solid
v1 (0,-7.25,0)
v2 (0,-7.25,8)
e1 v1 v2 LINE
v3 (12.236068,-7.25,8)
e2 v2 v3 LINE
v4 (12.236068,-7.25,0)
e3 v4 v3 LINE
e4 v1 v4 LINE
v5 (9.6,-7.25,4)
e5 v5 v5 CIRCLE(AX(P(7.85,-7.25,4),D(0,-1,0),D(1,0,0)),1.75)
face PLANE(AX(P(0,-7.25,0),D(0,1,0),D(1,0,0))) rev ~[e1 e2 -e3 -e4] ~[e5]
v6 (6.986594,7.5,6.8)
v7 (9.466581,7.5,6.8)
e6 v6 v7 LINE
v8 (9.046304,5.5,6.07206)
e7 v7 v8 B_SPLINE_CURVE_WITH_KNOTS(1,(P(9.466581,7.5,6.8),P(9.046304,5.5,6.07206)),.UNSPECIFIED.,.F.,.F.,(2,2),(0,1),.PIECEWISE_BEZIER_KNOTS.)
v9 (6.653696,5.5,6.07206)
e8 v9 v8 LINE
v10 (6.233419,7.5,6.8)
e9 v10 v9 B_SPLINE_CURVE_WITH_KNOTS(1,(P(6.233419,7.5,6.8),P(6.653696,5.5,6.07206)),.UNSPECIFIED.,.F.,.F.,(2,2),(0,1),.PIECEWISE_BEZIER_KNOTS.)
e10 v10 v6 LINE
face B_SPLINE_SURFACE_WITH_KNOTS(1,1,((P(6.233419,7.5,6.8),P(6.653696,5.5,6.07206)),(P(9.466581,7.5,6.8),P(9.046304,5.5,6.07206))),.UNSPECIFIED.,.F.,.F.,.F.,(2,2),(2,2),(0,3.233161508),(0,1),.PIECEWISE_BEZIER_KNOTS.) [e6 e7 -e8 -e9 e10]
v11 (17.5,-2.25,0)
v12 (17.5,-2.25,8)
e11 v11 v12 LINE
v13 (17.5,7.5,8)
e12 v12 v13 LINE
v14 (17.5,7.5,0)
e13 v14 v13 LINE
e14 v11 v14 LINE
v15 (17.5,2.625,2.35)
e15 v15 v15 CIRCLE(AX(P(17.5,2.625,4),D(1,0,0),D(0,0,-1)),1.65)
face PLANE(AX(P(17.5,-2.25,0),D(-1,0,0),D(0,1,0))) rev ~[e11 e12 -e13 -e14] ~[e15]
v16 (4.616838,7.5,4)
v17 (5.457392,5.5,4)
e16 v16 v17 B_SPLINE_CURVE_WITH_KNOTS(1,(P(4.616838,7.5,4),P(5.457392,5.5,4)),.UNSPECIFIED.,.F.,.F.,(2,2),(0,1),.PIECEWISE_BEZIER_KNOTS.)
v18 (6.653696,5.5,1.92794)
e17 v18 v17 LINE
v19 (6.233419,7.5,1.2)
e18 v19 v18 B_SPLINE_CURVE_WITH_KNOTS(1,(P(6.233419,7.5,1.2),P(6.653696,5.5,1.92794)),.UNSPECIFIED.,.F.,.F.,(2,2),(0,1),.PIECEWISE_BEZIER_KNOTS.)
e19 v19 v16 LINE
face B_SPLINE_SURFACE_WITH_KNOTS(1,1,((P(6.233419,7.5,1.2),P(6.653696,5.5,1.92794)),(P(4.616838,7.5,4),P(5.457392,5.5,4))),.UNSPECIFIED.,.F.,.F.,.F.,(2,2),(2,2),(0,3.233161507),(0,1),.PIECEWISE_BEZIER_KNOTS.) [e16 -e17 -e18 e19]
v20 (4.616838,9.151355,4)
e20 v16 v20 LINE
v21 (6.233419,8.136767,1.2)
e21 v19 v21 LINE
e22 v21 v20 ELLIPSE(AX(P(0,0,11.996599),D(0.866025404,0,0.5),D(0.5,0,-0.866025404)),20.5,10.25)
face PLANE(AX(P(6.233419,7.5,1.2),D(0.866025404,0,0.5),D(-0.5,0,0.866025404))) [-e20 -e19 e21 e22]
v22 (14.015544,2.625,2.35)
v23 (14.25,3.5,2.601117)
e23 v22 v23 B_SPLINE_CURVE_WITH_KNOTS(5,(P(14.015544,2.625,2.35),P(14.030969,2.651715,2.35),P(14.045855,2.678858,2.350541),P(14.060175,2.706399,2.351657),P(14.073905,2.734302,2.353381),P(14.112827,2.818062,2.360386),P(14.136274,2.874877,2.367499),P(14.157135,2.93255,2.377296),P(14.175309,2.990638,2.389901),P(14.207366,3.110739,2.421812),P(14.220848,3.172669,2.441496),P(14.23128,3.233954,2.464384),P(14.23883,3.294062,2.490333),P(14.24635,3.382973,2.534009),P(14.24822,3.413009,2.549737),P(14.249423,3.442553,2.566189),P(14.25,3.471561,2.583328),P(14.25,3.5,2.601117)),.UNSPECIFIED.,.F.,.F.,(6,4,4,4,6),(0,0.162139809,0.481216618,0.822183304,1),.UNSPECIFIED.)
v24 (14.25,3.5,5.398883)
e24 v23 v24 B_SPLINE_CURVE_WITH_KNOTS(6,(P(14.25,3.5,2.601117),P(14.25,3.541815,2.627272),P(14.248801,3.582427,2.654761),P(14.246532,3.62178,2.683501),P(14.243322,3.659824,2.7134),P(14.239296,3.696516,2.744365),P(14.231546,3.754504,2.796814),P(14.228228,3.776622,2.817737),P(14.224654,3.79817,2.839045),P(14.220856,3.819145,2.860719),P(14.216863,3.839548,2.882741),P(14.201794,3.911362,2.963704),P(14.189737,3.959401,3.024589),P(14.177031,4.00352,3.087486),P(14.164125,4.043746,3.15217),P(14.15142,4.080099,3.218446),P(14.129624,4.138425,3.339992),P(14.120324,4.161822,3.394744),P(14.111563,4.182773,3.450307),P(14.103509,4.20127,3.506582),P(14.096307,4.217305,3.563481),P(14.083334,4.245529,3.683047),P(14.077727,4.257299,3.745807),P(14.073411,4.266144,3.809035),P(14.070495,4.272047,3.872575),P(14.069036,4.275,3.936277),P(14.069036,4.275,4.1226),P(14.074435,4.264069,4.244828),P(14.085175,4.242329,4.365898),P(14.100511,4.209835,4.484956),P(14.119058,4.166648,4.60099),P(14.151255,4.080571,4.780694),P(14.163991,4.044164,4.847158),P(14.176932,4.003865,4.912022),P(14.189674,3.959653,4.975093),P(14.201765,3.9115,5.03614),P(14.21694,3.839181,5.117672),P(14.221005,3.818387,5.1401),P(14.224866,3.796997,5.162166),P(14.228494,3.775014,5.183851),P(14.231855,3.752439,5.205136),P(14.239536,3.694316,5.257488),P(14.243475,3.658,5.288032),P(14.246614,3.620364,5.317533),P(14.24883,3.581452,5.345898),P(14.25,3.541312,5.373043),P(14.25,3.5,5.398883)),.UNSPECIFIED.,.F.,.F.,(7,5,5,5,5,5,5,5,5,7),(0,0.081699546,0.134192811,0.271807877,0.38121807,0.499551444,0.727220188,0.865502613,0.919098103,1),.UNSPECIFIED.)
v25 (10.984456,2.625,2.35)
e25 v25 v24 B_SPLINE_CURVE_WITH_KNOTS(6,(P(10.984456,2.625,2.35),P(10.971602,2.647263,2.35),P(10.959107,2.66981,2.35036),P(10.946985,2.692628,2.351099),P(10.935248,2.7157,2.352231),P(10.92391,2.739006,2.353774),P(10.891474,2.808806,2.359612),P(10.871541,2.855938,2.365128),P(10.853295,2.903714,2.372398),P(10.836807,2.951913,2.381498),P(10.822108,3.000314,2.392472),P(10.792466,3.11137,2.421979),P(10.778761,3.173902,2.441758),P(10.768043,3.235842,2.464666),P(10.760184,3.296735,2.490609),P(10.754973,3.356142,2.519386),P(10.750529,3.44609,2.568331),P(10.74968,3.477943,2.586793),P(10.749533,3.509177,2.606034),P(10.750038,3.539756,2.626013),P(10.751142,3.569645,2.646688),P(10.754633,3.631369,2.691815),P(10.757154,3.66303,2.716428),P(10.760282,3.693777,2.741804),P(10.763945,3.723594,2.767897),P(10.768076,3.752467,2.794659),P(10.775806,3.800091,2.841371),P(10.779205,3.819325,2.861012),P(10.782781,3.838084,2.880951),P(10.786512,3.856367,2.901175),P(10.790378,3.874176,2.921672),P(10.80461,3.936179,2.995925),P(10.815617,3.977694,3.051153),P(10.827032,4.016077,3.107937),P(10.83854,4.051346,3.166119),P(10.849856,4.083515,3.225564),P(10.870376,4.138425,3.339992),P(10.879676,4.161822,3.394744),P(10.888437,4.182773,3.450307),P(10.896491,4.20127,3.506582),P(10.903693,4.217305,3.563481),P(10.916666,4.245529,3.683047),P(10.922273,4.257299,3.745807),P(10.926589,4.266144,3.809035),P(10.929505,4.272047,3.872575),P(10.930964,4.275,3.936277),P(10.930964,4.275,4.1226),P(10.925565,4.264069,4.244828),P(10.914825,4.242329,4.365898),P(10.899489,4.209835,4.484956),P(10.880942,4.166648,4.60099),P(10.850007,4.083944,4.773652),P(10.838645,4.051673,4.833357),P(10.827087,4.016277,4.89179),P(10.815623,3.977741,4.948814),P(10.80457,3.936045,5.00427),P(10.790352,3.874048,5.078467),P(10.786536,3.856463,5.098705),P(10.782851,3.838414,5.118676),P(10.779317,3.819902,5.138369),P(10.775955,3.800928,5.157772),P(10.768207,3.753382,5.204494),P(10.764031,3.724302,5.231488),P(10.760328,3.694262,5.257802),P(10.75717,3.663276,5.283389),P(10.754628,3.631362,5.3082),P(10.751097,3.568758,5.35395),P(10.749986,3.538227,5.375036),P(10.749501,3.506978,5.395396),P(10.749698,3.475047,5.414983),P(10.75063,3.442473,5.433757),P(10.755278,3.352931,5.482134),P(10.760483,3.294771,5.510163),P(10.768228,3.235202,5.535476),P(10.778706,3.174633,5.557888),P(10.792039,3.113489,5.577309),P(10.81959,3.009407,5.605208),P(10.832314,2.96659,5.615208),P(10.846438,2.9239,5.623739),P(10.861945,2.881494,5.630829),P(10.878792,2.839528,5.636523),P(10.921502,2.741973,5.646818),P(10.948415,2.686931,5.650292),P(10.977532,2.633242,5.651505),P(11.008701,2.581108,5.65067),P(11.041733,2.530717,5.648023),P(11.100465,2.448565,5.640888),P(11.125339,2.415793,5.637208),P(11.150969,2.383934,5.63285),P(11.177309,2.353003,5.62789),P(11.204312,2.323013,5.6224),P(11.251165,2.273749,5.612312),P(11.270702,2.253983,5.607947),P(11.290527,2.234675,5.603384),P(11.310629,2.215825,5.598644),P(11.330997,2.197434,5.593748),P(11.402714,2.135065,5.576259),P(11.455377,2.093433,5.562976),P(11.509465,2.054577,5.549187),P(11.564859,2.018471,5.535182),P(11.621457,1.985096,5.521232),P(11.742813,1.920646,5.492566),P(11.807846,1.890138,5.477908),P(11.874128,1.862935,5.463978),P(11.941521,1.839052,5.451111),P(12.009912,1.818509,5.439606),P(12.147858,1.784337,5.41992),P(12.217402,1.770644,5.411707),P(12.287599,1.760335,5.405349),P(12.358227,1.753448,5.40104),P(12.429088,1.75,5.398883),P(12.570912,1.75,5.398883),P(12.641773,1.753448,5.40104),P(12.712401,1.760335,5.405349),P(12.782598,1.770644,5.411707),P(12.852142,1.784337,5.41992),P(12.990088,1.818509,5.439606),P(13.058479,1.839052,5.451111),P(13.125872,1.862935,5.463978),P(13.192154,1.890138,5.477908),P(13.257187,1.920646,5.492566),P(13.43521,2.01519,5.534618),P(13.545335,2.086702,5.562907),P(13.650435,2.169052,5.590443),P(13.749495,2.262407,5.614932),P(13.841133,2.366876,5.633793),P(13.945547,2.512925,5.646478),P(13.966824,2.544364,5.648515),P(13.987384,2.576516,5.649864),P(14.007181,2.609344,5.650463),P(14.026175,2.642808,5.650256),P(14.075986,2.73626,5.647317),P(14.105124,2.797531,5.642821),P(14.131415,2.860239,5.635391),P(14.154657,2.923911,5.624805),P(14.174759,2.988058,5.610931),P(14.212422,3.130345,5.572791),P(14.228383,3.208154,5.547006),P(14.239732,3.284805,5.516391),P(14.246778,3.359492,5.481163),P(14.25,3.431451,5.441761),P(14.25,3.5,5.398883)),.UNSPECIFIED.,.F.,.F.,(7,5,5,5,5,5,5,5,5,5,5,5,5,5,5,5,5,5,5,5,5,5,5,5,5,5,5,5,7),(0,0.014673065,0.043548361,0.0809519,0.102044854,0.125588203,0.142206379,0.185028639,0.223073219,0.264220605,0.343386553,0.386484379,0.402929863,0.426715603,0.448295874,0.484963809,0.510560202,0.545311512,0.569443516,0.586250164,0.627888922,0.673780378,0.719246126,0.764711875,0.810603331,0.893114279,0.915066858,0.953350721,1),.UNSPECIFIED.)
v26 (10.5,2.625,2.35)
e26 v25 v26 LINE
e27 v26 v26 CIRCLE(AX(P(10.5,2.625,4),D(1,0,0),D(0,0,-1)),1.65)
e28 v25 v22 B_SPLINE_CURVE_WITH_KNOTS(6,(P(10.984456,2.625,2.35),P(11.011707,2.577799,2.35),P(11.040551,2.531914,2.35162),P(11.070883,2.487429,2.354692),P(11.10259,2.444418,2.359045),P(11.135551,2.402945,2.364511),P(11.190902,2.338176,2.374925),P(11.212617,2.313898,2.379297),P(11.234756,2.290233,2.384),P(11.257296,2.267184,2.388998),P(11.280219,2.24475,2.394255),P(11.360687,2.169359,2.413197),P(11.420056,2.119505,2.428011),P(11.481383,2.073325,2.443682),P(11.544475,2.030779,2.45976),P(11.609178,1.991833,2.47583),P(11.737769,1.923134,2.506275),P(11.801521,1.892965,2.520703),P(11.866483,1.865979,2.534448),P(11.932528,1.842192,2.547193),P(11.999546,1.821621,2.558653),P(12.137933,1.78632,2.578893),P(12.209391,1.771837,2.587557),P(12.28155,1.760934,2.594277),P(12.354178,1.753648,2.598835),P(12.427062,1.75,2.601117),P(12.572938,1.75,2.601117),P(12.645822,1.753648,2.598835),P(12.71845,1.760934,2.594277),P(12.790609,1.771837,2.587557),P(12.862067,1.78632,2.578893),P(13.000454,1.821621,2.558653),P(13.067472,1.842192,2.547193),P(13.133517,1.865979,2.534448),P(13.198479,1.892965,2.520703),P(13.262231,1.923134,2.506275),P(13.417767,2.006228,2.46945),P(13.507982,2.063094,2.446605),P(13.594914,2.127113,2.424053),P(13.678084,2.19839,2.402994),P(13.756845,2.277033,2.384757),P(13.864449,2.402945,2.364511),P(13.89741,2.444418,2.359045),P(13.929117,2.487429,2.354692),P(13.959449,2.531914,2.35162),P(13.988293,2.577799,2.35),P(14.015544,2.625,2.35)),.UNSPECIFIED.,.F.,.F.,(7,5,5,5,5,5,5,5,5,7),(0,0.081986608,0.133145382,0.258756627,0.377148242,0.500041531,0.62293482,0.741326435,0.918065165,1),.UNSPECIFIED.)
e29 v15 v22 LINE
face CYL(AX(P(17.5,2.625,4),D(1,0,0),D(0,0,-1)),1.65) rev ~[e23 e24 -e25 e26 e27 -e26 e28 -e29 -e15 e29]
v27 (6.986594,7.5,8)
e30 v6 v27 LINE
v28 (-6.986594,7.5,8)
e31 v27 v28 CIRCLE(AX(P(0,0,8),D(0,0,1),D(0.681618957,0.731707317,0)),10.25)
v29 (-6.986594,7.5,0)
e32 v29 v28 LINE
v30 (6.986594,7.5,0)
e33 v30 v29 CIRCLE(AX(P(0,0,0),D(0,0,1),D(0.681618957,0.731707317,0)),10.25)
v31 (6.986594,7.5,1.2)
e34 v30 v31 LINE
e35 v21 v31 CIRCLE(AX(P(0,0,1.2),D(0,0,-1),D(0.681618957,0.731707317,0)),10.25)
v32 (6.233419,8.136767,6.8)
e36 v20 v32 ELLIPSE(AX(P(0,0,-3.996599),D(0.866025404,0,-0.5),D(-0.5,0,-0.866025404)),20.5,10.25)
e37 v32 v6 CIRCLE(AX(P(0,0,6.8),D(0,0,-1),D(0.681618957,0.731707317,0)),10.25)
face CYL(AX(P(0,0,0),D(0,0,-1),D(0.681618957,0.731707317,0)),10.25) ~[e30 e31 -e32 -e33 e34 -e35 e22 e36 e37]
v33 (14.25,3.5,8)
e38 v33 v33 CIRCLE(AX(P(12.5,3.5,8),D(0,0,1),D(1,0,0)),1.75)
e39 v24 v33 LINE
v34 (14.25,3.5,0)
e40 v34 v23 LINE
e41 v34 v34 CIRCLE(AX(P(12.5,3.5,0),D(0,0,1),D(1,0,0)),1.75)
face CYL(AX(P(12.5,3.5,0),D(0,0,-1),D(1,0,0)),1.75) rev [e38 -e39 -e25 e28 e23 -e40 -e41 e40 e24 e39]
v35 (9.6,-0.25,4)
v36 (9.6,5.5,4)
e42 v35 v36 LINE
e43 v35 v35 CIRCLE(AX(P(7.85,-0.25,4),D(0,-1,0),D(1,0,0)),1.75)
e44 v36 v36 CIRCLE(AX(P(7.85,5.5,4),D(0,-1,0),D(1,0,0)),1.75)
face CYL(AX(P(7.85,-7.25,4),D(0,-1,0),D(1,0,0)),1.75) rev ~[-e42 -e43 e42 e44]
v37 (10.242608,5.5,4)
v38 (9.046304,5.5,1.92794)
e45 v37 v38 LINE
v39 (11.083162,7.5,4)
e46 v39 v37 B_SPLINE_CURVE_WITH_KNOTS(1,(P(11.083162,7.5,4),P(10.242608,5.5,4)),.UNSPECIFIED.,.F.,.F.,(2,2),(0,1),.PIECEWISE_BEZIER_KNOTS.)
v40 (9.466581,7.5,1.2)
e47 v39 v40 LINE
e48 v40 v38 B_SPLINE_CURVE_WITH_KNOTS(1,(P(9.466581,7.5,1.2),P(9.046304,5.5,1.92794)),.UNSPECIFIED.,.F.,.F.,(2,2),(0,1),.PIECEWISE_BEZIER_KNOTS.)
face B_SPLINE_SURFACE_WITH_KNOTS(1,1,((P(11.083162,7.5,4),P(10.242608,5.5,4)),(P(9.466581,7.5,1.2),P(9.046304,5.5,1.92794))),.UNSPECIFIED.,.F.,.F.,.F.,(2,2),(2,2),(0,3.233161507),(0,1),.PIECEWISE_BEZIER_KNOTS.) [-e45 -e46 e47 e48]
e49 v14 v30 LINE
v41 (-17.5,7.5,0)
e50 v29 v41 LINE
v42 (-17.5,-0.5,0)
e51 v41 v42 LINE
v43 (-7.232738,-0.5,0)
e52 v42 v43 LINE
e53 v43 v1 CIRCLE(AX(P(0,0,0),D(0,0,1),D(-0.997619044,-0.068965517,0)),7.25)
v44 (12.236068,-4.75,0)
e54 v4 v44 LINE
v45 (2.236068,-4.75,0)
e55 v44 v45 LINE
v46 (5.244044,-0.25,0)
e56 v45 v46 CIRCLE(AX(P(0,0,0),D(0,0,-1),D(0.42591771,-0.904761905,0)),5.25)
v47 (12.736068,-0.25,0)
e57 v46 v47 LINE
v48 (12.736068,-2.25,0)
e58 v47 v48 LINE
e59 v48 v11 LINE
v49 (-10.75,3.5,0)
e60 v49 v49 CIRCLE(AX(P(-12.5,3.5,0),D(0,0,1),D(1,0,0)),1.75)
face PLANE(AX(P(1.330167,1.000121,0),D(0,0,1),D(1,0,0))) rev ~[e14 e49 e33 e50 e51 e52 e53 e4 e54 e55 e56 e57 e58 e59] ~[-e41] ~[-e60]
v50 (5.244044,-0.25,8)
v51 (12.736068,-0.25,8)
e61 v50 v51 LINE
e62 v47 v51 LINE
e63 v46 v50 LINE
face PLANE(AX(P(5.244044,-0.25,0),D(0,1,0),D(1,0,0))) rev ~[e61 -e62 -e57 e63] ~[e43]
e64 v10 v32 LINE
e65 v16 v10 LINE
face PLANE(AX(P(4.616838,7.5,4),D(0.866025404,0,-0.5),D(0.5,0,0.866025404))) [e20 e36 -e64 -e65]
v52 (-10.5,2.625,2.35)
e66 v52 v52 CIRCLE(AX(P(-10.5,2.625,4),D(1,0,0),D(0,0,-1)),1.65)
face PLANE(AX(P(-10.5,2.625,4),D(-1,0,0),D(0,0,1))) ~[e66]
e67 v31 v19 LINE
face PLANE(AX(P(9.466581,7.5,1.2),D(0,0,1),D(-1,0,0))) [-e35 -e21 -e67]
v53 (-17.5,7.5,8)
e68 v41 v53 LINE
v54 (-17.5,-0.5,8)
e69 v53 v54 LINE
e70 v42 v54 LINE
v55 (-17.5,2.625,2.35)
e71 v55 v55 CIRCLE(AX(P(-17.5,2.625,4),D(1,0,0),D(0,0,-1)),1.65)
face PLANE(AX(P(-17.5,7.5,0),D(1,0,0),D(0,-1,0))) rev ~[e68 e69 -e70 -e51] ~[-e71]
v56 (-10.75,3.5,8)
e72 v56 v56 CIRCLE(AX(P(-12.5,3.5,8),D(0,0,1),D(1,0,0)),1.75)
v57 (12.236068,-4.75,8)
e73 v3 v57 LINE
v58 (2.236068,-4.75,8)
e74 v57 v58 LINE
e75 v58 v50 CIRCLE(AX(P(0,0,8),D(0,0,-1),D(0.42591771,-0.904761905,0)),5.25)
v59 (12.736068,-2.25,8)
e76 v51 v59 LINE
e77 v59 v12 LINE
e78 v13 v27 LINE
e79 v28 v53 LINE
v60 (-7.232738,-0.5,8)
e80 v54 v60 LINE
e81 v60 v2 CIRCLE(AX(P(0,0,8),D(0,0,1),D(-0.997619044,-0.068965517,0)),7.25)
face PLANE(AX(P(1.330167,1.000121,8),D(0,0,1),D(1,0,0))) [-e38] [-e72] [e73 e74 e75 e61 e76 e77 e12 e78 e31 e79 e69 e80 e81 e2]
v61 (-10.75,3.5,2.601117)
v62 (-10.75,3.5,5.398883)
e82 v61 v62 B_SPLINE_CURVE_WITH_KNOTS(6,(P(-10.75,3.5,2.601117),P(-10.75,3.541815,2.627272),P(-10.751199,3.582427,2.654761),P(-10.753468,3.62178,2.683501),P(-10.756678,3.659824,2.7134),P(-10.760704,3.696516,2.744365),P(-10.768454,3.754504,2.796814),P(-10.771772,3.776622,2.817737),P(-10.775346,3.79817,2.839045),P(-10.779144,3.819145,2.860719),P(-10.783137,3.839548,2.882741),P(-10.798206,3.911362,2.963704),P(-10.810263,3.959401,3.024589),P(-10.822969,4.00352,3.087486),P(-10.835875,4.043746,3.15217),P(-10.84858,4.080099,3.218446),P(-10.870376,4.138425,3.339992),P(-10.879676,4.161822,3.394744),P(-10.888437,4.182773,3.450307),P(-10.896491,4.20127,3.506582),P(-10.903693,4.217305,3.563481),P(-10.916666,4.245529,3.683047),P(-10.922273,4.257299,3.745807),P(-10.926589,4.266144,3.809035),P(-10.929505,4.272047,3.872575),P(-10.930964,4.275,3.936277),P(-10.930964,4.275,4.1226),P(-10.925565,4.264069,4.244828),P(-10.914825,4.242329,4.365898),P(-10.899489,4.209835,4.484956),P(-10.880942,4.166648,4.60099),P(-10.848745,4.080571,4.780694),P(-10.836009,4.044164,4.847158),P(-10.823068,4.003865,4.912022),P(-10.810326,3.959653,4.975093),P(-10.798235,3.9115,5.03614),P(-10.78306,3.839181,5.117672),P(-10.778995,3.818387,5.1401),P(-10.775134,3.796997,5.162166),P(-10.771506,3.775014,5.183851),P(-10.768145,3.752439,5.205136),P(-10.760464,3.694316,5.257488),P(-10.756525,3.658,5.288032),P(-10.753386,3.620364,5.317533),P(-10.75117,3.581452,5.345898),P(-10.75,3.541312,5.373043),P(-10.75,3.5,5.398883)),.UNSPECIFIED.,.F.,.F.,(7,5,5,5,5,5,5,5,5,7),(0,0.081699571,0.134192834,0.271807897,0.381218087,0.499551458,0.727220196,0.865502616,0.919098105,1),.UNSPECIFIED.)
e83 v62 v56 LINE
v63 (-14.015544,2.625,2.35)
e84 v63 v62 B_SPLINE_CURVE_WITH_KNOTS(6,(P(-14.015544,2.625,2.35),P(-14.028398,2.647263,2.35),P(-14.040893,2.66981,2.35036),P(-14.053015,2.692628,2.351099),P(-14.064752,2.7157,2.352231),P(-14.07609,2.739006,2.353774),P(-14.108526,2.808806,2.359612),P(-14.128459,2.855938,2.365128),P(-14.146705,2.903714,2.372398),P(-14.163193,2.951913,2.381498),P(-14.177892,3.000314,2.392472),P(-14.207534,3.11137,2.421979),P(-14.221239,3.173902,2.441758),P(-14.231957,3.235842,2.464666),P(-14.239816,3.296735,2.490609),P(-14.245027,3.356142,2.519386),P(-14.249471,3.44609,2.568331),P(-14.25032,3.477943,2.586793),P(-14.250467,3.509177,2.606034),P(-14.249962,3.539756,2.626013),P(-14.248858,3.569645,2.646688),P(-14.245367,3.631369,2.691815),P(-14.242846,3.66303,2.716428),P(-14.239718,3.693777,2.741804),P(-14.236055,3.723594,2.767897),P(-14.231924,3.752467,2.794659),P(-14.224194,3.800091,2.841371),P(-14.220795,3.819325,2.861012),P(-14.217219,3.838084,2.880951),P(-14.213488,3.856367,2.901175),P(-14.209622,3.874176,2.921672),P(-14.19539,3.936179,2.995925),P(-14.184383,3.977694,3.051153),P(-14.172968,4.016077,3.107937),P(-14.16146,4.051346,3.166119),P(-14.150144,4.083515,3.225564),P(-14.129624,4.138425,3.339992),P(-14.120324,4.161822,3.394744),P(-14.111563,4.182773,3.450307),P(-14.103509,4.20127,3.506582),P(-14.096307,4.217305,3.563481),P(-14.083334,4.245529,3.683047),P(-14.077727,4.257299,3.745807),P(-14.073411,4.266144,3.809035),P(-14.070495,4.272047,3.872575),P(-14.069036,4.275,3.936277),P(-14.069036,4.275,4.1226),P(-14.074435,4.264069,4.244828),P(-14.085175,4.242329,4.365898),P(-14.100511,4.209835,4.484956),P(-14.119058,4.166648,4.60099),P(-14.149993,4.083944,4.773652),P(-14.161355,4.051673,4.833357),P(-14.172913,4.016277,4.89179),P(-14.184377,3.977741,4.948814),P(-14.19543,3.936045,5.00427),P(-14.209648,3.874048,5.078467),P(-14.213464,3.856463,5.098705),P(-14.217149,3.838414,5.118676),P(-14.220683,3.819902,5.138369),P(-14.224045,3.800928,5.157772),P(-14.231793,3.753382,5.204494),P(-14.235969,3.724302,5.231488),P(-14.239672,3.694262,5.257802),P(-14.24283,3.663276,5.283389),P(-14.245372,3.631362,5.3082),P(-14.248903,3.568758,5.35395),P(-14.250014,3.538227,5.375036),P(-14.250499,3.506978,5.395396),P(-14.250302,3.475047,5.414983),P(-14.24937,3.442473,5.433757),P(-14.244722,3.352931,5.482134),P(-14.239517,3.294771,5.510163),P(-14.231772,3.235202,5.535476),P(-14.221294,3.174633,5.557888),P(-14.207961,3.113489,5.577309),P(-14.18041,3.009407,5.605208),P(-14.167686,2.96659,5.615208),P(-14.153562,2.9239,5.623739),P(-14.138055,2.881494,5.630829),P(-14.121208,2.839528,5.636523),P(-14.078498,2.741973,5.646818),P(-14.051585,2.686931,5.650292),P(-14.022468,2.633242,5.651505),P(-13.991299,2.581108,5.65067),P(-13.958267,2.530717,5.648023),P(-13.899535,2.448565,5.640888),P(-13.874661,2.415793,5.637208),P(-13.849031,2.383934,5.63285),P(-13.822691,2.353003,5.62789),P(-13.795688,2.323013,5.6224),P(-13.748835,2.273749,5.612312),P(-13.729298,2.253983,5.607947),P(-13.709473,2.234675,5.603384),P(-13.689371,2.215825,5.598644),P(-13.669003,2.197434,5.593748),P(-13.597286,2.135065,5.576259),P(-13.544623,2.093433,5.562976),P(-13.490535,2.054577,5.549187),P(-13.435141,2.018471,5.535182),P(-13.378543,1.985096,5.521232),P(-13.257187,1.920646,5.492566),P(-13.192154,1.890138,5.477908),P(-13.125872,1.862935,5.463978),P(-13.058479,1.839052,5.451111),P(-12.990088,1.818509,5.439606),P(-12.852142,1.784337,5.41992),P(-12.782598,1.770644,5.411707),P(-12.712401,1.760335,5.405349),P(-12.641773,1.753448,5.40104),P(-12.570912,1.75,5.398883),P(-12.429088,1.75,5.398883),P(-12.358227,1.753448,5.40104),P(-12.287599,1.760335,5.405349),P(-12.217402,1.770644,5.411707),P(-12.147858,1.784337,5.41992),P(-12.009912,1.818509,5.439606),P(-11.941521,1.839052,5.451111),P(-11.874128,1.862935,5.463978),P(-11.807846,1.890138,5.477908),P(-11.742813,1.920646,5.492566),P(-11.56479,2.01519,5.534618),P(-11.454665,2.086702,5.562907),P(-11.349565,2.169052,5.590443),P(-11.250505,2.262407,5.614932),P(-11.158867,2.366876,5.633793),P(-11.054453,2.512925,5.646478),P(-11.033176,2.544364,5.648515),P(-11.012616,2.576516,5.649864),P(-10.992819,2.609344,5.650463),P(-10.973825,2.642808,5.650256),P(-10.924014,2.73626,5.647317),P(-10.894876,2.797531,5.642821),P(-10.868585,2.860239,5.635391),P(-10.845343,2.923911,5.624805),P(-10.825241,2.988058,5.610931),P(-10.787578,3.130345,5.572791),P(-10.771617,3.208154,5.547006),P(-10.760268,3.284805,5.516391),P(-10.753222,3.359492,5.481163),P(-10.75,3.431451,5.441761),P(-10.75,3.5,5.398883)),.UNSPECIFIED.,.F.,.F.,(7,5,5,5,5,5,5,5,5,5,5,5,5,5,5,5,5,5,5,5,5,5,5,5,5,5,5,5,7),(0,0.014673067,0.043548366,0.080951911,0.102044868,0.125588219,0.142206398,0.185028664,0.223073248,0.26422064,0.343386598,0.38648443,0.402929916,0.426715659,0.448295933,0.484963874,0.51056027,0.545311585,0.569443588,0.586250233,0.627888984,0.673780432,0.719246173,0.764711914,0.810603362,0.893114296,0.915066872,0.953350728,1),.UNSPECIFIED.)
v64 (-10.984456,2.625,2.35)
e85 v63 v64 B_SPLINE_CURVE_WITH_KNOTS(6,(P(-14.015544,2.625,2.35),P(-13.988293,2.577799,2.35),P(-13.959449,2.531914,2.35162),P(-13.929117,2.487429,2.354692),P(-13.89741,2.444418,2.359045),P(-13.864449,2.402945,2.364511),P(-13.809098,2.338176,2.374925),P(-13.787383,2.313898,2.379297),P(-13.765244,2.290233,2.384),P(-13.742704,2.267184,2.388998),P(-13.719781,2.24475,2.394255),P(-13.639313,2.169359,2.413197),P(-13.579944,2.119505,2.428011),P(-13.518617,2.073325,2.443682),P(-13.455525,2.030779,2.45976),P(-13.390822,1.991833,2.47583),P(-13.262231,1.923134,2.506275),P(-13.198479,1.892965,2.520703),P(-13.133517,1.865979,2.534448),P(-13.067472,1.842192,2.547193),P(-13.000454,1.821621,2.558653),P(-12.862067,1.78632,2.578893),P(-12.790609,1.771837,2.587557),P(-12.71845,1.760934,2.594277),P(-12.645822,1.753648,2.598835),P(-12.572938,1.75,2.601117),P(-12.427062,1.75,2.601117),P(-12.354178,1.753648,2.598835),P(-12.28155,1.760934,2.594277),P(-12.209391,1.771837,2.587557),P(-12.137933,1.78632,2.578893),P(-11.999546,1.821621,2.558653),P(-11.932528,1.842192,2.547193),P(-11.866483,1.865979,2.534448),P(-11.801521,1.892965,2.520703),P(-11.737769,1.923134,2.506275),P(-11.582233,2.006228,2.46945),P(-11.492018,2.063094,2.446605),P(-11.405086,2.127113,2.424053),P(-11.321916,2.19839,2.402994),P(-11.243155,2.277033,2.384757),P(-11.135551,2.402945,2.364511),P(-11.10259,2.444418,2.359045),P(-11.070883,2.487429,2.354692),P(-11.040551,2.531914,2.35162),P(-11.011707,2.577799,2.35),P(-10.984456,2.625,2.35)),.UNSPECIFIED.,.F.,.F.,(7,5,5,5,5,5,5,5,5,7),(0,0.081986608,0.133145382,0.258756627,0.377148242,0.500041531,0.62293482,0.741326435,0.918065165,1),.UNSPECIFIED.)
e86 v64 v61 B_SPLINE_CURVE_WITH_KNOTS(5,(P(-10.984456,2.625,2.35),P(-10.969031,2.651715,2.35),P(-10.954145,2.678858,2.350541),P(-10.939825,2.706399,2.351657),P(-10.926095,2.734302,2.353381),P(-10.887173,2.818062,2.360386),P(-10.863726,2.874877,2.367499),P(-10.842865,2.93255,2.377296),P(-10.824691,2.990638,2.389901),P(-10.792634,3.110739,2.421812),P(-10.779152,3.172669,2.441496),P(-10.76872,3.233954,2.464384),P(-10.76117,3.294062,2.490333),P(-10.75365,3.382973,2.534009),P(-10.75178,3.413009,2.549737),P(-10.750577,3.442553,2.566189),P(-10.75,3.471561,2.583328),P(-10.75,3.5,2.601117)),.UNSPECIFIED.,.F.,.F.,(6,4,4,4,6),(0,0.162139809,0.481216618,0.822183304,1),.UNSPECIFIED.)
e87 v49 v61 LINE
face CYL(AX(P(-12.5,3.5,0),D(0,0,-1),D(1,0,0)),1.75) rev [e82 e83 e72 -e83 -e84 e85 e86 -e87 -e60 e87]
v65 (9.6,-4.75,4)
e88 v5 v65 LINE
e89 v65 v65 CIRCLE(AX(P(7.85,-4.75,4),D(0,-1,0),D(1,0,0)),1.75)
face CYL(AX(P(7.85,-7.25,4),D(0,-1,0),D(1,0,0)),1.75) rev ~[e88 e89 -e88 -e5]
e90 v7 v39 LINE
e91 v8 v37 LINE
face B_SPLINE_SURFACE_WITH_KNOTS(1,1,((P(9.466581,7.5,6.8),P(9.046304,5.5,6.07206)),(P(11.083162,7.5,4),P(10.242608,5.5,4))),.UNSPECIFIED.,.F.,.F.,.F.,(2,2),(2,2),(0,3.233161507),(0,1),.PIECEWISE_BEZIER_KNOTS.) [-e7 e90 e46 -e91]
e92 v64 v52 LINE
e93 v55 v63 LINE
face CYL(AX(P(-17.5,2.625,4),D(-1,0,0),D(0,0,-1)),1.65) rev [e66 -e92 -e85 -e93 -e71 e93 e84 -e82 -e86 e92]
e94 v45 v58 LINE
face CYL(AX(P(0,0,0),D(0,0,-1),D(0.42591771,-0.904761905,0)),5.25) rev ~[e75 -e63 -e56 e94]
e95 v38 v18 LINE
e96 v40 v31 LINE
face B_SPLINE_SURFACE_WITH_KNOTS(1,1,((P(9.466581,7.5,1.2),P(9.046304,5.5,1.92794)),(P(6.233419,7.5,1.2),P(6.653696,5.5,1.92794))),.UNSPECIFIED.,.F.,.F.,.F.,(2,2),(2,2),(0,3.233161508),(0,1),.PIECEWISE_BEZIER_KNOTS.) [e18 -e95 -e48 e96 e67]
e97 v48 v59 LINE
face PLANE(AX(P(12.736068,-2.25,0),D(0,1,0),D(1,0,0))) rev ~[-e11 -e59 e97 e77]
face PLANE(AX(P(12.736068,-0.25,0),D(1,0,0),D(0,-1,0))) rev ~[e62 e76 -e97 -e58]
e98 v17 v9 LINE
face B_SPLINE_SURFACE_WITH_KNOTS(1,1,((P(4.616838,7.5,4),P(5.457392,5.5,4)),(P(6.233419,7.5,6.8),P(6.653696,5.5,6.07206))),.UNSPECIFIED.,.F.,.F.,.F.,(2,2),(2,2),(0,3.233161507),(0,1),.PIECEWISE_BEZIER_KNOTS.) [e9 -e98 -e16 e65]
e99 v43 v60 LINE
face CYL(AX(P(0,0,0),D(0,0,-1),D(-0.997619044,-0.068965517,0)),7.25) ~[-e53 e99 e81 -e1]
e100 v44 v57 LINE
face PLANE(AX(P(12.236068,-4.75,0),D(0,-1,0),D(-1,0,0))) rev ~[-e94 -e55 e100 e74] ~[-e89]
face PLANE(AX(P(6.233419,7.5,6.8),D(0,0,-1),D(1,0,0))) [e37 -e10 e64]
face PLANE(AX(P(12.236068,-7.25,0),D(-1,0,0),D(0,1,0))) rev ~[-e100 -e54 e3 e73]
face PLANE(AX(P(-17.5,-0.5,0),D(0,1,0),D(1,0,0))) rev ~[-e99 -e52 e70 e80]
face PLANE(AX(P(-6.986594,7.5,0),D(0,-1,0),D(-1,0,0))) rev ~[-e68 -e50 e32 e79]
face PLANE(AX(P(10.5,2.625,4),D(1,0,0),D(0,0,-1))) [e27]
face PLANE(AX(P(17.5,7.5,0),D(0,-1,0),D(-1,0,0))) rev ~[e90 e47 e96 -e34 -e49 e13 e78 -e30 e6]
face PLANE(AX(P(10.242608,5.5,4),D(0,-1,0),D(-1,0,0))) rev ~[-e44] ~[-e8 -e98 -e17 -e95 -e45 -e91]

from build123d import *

# Parameters (mm, degrees)
ESBO_O1_R                       = 1.75
RESSALTO_EXTRUS_O1_DEPTH        = 8
ESBO_O2_R                       = 1.65
CORTE_EXTRUS_O1_DEPTH           = 7
ESBO_O3_R                       = 1.75
CORTE_EXTRUS_O2_DEPTH           = 18.5
CORTE_EXTRUS_O3_DEPTH           = 2
CORTE_EXTRUS_O3_TAPER           = 20
CORTE_EXTRUS_O3_OTHER_WAY_DEPTH = 6


with BuildPart() as part:
    # Esboço1 → Ressalto-extrusão1 (new body)
    with BuildSketch(Plane.XY):
        with BuildLine():
            Line((17.5, 7.5), (6.986594306, 7.5))
            ThreePointArc((6.986594306, 7.5), (0, 10.25), (-6.986594306, 7.5))
            Line((-6.986594306, 7.5), (-17.5, 7.5))
            Line((-17.5, 7.5), (-17.5, -0.5))
            Line((-17.5, -0.5), (-7.232738071, -0.5))
            ThreePointArc((-7.232738071, -0.5), (-4.946589734, -5.300353762), (0, -7.25))
            Line((0, -7.25), (12.236067977, -7.25))
            Line((12.236067977, -7.25), (12.236067977, -4.75))
            Line((12.236067977, -4.75), (2.236067977, -4.75))
            ThreePointArc((2.236067977, -4.75), (-4.364690104, 2.917529829), (5.244044241, -0.25))
            Line((5.244044241, -0.25), (12.736067977, -0.25))
            Line((12.736067977, -0.25), (12.736067977, -2.25))
            Line((12.736067977, -2.25), (15.807189139, -2.25))
            Line((15.807189139, -2.25), (17.5, -2.25))
            Line((17.5, -2.25), (17.5, 7.5))
        make_face()
        with Locations((12.5, 3.5)):
            Circle(ESBO_O1_R, mode=Mode.SUBTRACT)
        with Locations((-12.5, 3.5)):
            Circle(ESBO_O1_R, mode=Mode.SUBTRACT)
    extrude(amount=RESSALTO_EXTRUS_O1_DEPTH)

    # Esboço2 → Corte-extrusão1 (cut)
    with BuildSketch(Plane(origin=(17.5, 0, 0), x_dir=(0, 0, -1), z_dir=(1, 0, 0))):
        with Locations((-4, 2.625)):
            Circle(ESBO_O2_R)
    corte_extrus_o1 = extrude(amount=-CORTE_EXTRUS_O1_DEPTH, mode=Mode.SUBTRACT)

    # Espelhar1: Corte-extrusão1 across plane
    add(corte_extrus_o1.mirror(Plane(origin=(0, 0, 0), x_dir=(0, 0, 1), z_dir=(1, 0, 0))), mode=Mode.SUBTRACT)

    # Esboço3 → Corte-extrusão2 (cut, through all)
    with BuildSketch(Plane.XZ.offset(7.25)):
        with Locations((7.85, 4)):
            Circle(ESBO_O3_R)
    extrude(amount=-CORTE_EXTRUS_O2_DEPTH, mode=Mode.SUBTRACT)

    # Esboço4 → Corte-extrusão3 (cut)
    with BuildSketch(Plane(origin=(0, 7.5, 0), x_dir=(1, 0, 0), z_dir=(0, 1, 0))):
        Polygon((11.083161507, -4), (9.466580754, -1.2), (6.233419246, -1.2), (4.616838493, -4), (6.233419246, -6.8), (9.466580754, -6.8), align=None)
    extrude(amount=-CORTE_EXTRUS_O3_DEPTH, taper=CORTE_EXTRUS_O3_TAPER, mode=Mode.SUBTRACT)

    # Esboço4 → Corte-extrusão3 other way (cut)
    with BuildSketch(Plane(origin=(0, 7.5, 0), x_dir=(1, 0, 0), z_dir=(0, 1, 0))):
        Polygon((11.083161507, -4), (9.466580754, -1.2), (6.233419246, -1.2), (4.616838493, -4), (6.233419246, -6.8), (9.466580754, -6.8), align=None)
    extrude(amount=CORTE_EXTRUS_O3_OTHER_WAY_DEPTH, mode=Mode.SUBTRACT)


solid = part.part
